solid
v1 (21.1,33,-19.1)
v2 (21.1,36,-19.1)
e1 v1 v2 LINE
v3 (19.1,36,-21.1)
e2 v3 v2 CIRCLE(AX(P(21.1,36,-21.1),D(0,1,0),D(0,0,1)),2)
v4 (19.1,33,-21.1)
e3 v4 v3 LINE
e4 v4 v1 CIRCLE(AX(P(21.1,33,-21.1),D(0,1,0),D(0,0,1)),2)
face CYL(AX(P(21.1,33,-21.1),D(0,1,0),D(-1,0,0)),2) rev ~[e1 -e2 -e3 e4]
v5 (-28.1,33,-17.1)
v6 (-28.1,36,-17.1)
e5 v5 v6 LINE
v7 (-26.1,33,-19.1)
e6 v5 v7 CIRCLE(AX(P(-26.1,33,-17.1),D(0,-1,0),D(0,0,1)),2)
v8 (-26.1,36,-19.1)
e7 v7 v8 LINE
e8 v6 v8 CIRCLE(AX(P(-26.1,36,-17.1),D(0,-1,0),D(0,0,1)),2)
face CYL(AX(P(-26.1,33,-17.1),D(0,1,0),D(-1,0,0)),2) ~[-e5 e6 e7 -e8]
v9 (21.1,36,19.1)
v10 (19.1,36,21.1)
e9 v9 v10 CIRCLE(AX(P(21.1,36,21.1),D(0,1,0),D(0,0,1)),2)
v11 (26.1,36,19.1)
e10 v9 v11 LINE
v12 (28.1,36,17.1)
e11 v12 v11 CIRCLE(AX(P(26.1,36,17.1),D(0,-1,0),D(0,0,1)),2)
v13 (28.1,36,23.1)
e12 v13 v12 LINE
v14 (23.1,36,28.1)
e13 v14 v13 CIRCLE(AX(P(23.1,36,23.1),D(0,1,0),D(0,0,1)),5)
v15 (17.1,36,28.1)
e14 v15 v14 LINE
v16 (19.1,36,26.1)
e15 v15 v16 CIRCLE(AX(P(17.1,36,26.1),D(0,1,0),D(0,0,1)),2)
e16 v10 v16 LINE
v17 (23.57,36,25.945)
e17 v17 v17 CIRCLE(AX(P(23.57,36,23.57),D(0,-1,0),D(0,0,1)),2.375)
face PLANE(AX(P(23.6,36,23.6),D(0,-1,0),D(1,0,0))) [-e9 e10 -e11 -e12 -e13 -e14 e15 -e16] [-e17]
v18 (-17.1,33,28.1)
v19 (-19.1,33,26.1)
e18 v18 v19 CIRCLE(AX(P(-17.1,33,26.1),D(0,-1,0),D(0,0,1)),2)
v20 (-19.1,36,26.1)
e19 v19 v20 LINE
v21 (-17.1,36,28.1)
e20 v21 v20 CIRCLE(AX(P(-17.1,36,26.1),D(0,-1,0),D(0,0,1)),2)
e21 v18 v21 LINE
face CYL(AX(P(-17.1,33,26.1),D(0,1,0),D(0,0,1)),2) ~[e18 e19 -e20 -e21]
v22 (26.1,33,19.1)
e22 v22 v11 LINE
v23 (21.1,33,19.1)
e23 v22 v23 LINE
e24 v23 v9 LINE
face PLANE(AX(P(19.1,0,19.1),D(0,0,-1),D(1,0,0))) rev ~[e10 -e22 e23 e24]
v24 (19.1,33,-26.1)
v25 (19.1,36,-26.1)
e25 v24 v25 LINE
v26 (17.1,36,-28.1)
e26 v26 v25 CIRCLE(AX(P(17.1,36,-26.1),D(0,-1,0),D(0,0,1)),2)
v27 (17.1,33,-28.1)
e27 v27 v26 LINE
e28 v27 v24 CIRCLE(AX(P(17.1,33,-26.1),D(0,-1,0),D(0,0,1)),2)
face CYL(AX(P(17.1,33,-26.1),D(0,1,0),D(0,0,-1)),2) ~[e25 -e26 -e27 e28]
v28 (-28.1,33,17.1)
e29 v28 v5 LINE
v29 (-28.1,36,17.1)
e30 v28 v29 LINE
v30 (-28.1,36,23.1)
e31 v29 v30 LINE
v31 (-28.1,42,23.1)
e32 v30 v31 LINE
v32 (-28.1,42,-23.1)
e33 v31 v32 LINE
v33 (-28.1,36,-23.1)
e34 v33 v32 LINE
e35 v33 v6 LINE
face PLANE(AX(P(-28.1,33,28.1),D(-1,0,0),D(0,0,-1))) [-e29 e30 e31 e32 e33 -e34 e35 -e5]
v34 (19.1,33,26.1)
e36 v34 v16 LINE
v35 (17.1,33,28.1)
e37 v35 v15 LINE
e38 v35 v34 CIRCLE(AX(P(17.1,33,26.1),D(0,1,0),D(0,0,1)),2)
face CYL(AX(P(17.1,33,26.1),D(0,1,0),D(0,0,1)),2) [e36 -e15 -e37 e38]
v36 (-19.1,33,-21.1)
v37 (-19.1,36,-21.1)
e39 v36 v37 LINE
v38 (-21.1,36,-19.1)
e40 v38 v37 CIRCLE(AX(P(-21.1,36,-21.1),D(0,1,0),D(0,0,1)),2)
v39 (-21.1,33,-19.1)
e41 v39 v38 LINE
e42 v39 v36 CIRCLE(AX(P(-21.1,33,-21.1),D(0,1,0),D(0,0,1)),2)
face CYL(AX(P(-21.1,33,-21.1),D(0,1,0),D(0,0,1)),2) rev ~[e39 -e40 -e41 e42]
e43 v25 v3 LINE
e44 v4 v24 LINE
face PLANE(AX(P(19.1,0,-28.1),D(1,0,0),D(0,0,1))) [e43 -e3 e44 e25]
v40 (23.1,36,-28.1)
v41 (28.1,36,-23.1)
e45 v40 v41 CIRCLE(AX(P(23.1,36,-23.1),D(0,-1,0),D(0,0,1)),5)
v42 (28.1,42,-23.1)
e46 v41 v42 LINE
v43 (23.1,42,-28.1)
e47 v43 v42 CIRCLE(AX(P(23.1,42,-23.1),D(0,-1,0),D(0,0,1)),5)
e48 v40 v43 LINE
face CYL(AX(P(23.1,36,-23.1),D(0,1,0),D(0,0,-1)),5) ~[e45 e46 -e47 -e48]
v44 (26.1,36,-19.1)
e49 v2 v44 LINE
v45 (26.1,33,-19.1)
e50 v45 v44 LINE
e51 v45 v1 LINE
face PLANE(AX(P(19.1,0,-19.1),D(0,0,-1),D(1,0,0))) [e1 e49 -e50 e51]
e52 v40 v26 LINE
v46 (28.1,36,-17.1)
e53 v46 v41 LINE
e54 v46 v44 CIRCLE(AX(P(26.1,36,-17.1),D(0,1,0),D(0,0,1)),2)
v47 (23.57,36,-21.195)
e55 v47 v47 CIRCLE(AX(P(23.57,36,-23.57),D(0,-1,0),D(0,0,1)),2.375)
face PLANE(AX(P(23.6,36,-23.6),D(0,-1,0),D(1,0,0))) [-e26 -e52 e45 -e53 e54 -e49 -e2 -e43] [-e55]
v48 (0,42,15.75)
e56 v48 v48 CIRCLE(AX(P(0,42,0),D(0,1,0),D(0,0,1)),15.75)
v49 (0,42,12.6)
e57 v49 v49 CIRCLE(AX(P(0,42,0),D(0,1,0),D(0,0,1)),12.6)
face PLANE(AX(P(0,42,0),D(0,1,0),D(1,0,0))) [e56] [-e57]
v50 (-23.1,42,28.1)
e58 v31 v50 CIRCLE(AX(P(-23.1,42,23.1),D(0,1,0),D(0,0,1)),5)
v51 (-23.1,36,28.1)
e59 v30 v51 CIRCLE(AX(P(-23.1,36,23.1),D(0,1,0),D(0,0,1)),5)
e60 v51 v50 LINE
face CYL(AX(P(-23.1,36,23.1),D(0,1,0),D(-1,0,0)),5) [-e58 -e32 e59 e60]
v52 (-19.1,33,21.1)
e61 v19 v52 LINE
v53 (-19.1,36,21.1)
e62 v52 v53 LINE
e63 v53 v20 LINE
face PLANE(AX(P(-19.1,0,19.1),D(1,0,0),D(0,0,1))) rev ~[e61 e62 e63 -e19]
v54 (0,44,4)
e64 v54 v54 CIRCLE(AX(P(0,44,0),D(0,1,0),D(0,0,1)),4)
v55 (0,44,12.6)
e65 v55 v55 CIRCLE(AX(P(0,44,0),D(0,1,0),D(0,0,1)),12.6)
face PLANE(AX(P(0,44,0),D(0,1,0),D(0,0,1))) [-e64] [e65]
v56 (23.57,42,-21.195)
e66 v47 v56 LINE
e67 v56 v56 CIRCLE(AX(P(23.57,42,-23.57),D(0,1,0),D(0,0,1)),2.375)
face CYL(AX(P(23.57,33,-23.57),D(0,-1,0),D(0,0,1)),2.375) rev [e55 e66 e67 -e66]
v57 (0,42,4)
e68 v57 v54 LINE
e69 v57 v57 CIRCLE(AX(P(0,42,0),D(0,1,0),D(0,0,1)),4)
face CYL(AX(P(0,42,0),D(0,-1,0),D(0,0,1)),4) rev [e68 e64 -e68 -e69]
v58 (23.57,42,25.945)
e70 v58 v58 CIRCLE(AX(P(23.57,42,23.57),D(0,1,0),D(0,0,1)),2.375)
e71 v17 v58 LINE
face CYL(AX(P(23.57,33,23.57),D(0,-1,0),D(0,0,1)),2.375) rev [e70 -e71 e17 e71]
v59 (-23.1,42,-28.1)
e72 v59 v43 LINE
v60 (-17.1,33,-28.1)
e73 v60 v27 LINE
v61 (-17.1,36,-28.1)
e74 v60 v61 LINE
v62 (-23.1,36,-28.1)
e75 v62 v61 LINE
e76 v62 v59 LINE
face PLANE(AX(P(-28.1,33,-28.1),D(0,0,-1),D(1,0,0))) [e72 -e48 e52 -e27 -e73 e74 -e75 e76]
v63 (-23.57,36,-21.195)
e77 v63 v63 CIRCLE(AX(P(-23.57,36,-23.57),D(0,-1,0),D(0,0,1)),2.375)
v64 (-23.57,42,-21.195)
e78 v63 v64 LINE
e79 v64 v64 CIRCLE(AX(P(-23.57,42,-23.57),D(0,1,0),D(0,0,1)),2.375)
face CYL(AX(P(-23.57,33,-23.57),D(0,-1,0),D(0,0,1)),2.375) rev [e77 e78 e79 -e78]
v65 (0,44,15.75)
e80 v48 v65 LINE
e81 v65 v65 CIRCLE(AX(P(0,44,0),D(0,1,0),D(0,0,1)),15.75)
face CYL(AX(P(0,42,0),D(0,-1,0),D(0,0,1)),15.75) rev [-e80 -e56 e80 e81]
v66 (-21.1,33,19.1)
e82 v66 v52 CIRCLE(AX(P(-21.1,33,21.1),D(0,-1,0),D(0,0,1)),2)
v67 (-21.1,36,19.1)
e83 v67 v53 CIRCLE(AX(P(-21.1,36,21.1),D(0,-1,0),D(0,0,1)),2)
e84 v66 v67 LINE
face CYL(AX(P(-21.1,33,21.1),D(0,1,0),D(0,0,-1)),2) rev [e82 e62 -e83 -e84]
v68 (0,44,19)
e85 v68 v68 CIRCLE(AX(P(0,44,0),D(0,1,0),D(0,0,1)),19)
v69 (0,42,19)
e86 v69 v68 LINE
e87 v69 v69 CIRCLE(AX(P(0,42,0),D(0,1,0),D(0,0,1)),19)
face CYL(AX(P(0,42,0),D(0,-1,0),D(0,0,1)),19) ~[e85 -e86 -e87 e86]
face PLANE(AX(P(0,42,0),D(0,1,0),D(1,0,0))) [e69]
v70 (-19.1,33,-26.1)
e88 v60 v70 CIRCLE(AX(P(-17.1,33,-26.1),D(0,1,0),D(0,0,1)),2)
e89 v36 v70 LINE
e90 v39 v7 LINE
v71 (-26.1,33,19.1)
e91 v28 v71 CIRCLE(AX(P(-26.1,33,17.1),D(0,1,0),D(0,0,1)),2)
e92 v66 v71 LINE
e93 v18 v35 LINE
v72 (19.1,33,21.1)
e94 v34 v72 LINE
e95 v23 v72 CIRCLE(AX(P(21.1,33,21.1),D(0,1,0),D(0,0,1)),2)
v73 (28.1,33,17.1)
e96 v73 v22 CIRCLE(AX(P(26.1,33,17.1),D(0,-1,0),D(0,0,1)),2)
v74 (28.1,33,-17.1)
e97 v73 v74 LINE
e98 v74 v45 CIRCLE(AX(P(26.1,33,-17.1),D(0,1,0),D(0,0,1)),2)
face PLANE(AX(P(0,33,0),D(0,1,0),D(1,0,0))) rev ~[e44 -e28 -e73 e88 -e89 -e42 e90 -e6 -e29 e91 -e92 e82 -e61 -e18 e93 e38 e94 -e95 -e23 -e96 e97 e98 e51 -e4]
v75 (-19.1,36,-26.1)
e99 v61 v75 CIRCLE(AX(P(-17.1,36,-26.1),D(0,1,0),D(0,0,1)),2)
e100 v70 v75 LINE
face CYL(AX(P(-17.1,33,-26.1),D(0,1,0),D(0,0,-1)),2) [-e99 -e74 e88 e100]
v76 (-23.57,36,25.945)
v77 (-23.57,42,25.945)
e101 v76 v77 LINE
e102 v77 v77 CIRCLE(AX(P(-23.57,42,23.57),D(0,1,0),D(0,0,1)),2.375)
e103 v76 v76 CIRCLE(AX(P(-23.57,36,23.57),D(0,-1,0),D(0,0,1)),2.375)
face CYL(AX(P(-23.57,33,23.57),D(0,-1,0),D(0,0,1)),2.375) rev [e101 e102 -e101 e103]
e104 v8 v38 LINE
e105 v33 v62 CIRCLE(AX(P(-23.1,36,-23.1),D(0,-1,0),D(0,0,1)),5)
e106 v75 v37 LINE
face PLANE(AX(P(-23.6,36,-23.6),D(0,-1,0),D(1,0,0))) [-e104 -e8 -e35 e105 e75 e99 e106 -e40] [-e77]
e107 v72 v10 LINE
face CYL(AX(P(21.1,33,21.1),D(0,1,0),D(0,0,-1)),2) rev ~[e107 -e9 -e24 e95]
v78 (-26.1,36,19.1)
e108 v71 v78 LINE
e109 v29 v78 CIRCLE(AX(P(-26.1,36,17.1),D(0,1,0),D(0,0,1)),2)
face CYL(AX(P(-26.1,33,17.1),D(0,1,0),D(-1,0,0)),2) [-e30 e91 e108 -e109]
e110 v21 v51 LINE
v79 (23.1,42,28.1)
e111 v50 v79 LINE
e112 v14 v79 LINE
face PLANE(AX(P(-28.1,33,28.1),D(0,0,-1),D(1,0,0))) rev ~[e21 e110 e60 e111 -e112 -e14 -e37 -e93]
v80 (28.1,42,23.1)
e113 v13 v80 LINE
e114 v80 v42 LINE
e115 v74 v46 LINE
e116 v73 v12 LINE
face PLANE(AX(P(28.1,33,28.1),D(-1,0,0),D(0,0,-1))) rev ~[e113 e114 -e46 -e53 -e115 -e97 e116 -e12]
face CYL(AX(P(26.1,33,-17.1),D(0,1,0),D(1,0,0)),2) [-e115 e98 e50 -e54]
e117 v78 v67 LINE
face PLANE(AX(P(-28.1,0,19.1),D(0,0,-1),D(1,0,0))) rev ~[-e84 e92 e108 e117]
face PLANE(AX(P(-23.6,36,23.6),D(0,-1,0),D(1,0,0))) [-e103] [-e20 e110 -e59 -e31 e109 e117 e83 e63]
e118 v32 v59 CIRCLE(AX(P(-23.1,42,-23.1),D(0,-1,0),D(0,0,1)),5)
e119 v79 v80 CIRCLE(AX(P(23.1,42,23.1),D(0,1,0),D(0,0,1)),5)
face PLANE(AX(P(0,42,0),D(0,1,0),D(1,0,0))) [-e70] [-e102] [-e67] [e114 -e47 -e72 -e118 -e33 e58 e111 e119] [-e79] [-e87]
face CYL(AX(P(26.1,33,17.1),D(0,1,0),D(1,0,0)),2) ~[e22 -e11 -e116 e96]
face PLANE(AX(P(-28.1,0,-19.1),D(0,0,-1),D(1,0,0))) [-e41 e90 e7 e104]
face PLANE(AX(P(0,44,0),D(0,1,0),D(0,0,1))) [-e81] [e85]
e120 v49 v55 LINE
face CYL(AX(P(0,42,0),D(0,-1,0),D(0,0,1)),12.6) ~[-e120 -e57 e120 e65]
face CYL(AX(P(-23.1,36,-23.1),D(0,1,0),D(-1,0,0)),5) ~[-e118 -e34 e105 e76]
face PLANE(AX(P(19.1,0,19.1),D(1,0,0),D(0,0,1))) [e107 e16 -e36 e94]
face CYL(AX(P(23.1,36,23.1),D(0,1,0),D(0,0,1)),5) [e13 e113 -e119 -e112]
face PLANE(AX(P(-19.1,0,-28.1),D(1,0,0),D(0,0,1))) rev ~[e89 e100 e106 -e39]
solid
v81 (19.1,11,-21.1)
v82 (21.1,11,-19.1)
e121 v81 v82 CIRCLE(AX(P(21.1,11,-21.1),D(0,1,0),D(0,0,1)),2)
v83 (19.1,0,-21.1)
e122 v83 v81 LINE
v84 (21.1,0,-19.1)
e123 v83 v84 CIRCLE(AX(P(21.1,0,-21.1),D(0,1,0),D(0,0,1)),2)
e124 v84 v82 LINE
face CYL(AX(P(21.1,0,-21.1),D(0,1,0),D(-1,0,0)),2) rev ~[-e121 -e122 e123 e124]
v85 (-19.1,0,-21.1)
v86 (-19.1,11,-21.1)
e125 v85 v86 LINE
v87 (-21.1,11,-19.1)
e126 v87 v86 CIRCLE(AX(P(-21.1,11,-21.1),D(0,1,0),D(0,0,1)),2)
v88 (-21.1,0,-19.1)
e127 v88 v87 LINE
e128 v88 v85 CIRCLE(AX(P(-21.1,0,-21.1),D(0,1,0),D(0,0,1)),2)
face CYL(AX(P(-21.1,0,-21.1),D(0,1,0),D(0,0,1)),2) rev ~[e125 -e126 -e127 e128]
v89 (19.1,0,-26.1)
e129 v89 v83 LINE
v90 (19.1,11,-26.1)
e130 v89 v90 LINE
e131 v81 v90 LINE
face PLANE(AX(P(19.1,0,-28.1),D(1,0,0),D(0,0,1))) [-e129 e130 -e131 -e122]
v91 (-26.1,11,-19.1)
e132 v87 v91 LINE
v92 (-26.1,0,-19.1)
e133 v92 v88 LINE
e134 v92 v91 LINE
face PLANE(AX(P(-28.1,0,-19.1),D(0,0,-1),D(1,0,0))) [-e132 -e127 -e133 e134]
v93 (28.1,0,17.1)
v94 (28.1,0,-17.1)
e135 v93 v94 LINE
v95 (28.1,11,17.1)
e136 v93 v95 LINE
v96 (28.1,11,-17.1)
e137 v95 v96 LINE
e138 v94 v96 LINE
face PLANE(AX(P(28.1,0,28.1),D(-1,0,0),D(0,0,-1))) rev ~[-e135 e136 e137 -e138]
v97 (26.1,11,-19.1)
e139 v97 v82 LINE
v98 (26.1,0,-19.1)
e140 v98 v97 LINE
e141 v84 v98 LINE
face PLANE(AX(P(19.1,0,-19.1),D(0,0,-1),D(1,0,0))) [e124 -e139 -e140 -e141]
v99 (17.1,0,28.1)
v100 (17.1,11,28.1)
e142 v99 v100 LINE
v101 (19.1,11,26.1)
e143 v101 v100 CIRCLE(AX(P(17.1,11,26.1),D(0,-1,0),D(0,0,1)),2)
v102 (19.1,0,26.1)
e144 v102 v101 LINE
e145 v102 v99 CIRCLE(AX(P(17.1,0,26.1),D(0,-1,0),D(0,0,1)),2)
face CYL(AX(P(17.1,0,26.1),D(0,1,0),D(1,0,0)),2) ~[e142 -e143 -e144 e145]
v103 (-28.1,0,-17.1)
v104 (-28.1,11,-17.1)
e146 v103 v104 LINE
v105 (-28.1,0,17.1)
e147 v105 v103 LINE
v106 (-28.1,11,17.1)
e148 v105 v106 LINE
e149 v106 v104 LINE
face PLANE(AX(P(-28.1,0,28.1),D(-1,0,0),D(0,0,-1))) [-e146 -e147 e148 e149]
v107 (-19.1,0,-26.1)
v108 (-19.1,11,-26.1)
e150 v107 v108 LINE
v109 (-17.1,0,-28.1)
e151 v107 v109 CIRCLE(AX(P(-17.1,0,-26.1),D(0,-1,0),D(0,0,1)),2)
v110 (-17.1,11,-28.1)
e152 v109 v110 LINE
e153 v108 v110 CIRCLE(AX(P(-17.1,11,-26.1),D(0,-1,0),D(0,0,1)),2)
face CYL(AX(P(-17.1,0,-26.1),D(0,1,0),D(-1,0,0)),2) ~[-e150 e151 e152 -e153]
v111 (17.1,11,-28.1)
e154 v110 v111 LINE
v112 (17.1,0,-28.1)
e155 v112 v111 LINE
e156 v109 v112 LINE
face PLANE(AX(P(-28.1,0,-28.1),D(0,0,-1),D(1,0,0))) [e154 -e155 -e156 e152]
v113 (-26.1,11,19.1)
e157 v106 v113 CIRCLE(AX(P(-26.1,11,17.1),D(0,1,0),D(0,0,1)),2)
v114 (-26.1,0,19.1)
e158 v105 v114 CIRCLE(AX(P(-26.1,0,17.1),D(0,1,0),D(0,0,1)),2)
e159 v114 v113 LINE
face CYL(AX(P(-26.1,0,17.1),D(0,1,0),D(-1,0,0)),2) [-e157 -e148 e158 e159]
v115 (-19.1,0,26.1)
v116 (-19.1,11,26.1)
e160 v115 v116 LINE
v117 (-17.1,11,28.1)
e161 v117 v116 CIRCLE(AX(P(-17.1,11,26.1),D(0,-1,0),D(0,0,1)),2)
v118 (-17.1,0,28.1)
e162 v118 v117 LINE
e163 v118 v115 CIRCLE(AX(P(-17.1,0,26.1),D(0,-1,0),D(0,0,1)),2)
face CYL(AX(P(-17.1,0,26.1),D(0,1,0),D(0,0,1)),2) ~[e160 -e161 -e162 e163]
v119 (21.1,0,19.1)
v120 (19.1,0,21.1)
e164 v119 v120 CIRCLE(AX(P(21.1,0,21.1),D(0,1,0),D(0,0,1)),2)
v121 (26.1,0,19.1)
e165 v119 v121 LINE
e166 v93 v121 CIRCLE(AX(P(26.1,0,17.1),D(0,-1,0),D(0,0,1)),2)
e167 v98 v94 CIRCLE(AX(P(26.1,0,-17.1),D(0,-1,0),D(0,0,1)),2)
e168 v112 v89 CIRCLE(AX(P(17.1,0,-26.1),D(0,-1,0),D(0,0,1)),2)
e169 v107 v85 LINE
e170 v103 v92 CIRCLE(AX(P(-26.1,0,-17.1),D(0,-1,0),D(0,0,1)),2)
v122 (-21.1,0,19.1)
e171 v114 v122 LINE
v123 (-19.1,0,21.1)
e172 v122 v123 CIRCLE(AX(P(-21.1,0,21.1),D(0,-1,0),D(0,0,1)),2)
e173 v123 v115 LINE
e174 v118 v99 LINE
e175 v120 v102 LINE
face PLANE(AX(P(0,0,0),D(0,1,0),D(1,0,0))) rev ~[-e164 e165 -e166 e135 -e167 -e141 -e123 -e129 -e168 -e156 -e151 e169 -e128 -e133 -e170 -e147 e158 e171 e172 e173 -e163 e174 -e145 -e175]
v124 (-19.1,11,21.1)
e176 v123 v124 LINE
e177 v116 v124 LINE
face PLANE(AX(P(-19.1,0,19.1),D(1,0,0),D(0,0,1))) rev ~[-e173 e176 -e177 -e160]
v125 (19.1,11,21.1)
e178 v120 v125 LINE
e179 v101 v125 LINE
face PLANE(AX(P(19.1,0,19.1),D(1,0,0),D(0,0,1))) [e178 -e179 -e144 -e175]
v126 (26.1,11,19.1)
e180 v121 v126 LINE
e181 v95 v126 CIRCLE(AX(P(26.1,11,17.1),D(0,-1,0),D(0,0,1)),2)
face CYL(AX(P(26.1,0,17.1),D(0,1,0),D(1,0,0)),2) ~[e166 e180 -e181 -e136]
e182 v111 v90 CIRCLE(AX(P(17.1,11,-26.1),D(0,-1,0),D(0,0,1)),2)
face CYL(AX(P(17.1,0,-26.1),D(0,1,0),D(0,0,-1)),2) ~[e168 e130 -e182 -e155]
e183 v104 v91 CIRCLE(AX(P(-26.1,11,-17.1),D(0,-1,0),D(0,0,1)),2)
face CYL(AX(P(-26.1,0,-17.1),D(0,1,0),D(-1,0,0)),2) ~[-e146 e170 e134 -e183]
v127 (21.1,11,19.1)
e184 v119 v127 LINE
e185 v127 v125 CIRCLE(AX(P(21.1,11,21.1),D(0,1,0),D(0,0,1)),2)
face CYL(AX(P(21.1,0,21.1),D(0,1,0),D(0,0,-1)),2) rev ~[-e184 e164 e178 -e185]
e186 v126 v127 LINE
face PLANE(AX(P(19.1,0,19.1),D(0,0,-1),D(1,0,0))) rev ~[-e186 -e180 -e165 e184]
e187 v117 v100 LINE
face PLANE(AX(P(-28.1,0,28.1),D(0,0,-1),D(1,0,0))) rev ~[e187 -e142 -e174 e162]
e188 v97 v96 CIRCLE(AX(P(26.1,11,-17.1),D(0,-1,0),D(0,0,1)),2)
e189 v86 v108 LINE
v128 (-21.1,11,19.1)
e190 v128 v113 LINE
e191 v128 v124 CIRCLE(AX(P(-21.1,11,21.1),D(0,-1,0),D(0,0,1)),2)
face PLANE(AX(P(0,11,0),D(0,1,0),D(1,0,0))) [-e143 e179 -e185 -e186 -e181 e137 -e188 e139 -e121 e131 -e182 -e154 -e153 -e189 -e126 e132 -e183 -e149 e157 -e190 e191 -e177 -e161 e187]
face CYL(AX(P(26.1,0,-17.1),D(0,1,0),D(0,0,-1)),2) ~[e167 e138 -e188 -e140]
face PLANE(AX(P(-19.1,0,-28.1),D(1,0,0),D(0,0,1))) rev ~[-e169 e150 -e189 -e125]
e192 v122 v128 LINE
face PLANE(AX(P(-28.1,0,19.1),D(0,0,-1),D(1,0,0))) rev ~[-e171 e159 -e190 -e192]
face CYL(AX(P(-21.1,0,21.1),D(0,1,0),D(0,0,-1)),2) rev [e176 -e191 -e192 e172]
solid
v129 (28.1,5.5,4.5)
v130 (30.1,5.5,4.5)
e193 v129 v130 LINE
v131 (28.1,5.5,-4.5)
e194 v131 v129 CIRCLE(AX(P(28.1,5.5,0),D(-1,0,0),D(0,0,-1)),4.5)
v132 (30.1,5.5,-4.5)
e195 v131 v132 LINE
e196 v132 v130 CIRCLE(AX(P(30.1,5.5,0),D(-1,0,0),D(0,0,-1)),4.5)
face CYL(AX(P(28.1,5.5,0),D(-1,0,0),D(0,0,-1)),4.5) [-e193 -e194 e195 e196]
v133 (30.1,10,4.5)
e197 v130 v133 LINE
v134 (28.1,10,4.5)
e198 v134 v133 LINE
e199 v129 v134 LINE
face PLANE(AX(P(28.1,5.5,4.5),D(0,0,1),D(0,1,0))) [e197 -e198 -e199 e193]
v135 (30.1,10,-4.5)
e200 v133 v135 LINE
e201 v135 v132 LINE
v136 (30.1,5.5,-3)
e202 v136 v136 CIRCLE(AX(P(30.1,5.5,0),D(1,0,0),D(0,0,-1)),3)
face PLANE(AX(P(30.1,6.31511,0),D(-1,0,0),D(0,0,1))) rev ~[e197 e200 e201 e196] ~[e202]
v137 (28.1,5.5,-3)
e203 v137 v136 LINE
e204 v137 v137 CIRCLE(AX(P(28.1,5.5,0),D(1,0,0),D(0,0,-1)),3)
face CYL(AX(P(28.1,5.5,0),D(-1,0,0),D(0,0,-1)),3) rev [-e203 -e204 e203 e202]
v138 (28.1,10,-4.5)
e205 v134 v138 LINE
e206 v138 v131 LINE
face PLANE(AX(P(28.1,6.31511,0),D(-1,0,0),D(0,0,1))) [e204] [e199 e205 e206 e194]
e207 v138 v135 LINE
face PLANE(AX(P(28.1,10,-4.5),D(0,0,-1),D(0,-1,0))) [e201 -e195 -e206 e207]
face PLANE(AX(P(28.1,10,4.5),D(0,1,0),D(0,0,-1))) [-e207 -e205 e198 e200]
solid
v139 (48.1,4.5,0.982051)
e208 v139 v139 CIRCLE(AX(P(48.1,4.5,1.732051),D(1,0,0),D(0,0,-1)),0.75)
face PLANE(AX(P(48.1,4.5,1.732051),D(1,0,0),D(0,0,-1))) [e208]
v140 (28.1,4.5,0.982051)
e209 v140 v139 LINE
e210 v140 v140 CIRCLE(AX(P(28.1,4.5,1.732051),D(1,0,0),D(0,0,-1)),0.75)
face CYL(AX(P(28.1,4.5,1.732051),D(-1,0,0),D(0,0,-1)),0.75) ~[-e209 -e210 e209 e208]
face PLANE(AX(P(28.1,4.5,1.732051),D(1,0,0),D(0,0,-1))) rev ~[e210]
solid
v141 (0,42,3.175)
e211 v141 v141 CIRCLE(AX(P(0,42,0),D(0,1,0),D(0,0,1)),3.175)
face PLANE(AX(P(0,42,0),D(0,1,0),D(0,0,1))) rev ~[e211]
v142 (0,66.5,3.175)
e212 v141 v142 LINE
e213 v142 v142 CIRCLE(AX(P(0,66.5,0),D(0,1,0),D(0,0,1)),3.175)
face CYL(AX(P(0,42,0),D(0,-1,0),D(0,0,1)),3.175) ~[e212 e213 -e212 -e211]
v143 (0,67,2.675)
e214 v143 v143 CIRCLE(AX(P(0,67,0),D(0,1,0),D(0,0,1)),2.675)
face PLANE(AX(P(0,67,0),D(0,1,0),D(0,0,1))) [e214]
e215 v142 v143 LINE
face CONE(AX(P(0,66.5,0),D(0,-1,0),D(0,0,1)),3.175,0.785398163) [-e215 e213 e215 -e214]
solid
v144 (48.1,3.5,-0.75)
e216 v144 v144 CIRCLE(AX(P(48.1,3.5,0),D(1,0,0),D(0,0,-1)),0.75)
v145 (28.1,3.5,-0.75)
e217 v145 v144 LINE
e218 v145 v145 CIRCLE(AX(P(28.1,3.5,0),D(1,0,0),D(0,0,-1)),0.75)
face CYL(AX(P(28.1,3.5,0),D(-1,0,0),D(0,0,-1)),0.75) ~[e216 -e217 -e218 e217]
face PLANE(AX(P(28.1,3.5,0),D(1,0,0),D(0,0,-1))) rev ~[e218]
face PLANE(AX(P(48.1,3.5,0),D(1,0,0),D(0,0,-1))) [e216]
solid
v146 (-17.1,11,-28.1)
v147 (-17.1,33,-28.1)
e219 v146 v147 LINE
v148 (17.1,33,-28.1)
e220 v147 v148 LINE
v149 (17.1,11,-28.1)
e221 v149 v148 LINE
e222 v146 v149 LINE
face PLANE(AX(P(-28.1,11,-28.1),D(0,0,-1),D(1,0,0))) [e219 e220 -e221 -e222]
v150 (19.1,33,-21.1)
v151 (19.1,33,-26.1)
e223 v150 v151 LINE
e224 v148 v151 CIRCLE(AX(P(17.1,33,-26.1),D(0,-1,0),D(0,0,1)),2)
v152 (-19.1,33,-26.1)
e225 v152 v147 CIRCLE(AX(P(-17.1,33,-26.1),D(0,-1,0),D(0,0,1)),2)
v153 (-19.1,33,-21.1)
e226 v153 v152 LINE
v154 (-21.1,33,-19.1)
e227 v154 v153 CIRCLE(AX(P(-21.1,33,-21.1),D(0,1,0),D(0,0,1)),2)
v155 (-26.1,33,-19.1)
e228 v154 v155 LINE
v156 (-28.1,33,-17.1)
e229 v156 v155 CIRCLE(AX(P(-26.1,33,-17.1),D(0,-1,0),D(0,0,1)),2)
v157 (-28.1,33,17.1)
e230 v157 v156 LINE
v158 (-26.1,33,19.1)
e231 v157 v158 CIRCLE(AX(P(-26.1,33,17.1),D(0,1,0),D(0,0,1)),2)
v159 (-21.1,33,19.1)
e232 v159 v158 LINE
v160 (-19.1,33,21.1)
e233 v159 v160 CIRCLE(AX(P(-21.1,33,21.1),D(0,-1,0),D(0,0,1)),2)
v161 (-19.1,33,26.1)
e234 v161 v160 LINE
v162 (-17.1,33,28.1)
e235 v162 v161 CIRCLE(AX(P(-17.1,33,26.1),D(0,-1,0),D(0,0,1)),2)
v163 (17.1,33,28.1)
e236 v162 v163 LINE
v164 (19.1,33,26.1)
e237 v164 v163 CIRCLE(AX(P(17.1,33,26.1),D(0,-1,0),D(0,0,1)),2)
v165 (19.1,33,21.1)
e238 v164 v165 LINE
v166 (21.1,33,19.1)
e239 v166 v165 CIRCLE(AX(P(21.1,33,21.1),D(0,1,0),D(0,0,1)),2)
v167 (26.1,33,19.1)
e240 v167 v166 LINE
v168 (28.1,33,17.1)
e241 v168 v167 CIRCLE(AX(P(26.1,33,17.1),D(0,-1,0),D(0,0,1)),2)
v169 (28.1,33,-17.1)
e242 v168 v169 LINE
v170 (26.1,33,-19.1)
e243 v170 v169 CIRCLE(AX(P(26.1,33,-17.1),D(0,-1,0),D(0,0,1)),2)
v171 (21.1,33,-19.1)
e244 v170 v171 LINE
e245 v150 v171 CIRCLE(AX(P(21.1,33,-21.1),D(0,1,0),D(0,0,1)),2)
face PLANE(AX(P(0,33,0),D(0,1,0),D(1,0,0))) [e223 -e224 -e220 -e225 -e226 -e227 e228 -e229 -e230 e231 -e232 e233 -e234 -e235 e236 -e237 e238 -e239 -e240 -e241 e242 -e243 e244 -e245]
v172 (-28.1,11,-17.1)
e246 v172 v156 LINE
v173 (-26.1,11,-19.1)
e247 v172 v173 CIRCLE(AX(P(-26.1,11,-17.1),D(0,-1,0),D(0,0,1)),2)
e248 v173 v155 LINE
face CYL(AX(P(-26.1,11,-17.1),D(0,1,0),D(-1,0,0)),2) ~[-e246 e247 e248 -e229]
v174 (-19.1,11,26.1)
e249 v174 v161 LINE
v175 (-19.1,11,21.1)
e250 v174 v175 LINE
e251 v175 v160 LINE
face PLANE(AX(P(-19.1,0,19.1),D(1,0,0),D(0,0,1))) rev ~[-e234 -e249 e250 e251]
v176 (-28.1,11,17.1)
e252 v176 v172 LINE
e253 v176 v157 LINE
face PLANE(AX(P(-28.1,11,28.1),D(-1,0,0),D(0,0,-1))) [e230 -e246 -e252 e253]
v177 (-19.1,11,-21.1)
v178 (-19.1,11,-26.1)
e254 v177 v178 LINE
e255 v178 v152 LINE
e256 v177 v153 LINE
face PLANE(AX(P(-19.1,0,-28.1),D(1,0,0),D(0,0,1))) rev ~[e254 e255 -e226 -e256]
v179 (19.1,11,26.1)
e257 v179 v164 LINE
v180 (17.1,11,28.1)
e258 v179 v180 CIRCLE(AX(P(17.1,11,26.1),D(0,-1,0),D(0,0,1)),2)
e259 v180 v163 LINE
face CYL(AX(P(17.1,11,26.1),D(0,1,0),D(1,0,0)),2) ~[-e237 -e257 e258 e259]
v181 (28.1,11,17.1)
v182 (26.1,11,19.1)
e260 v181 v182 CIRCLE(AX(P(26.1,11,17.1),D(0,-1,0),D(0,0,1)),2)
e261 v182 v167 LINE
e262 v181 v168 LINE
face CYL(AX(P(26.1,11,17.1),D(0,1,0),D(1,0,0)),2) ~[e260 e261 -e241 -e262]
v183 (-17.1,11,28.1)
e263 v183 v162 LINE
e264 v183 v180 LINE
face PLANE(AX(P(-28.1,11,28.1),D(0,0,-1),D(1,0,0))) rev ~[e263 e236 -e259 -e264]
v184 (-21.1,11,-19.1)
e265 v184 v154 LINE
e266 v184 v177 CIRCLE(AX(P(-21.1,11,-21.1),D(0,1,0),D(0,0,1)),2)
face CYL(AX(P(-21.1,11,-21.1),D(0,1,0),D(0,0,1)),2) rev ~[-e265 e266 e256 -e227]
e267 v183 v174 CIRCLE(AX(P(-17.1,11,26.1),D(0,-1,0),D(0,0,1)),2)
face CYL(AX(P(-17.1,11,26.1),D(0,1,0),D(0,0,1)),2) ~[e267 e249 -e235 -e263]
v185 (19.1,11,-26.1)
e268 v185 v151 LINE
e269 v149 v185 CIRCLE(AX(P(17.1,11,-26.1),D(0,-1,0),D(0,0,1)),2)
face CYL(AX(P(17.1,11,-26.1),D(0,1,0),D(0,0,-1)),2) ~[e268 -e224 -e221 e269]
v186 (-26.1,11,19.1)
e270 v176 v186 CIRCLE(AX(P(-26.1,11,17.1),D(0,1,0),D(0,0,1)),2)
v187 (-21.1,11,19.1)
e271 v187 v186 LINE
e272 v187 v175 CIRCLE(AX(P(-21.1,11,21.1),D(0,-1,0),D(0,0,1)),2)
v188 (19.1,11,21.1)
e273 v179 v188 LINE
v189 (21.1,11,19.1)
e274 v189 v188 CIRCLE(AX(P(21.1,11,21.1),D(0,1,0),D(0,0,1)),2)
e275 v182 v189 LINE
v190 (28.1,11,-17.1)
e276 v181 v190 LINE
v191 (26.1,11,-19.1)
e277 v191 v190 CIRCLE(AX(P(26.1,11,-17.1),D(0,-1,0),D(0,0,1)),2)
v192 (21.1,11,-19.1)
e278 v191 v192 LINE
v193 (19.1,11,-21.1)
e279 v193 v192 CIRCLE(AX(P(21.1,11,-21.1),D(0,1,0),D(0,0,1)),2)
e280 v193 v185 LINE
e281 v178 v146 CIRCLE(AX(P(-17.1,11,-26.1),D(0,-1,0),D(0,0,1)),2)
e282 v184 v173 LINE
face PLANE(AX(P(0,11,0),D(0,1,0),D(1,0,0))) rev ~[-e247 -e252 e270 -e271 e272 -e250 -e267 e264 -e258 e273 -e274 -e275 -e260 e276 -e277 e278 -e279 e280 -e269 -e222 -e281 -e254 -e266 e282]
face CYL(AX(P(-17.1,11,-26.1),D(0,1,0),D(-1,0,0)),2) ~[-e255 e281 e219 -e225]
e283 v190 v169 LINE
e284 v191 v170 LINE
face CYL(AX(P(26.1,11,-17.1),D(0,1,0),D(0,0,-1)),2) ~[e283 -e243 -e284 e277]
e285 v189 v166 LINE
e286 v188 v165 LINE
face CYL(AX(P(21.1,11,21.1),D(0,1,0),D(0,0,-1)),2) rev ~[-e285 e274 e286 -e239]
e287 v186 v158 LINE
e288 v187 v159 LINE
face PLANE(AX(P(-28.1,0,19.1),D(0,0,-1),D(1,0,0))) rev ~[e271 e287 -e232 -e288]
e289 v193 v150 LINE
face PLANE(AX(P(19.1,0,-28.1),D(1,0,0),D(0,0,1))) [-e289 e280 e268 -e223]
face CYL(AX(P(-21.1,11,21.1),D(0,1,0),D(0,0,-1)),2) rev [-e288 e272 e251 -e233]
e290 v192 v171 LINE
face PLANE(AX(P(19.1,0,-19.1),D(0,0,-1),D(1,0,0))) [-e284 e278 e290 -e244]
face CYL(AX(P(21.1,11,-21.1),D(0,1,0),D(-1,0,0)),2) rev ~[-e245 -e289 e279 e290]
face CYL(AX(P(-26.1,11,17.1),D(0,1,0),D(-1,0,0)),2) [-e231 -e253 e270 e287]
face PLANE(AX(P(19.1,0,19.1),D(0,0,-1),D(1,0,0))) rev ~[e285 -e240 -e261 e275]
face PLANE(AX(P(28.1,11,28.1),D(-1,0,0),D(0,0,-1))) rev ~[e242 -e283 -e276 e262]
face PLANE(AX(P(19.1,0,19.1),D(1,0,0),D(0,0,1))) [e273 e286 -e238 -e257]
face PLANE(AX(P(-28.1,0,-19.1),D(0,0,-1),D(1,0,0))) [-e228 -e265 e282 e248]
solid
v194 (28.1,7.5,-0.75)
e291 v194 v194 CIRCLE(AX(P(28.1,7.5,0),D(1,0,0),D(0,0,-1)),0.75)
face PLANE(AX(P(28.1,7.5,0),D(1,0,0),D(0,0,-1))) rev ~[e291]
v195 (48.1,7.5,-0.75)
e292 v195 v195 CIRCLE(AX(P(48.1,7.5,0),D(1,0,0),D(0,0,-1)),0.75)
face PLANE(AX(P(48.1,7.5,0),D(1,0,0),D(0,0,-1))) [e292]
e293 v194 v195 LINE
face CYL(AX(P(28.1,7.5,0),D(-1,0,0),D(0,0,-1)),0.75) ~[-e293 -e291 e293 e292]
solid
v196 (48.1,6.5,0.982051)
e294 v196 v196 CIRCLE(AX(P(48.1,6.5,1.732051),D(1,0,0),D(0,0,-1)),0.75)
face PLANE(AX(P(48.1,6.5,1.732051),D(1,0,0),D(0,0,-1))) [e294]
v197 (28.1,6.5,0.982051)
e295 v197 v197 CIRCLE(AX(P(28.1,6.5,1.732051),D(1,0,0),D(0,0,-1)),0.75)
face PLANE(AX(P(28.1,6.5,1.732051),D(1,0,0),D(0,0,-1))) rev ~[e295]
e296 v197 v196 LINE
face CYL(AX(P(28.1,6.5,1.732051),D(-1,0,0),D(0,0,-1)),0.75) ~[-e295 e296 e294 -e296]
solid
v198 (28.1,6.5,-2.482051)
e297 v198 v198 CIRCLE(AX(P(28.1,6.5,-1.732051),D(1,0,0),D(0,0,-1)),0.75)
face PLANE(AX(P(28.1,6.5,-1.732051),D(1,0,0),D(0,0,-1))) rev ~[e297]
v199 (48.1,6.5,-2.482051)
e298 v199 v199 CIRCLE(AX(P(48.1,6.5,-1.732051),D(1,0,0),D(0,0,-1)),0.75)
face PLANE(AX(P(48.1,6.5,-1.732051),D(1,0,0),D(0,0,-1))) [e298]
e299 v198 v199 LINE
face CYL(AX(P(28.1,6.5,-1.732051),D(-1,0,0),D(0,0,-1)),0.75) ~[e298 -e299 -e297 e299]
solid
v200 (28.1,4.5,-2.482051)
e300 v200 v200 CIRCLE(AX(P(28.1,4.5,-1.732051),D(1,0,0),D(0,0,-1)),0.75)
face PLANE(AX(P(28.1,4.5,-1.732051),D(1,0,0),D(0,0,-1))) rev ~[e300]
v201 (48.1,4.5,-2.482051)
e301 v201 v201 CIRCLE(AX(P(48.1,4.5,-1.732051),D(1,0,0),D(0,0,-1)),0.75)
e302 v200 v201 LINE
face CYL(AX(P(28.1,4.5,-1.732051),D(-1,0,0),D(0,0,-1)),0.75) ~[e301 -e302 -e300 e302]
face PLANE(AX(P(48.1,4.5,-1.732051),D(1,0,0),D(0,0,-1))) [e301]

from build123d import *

# Parameters (mm, degrees)
SKETCH1_W             = 56.2
SKETCH1_H             = 56.2
SKETCH1_R             = 2.375
BOSS_EXTRUDE2_DEPTH   = 11
SKETCH2_W             = 56.2
SKETCH2_H             = 56.2
SKETCH2_R             = 2.375
BOSS_EXTRUDE3_DEPTH   = 22
SKETCH3_W             = 56.2
SKETCH3_H             = 56.2
SKETCH3_R             = 2.375
BOSS_EXTRUDE4_DEPTH   = 9
SKETCH4_R             = 3
BOSS_EXTRUDE5_DEPTH   = 2
SKETCH5_R             = 0.75
BOSS_EXTRUDE6_DEPTH   = 20
BOSS_EXTRUDE6_2_DEPTH = 20
BOSS_EXTRUDE6_3_DEPTH = 20
BOSS_EXTRUDE6_4_DEPTH = 20
BOSS_EXTRUDE6_5_DEPTH = 20
BOSS_EXTRUDE6_6_DEPTH = 20
SKETCH6_R             = 19
SKETCH6_R_2           = 15.75
SKETCH6_R_3           = 12.6
SKETCH6_R_4           = 4
BOSS_EXTRUDE7_DEPTH   = 2
SKETCH7_R             = 3.175
BOSS_EXTRUDE8_DEPTH   = 25
SKETCH11_W            = 9
SKETCH11_H            = 9
CUT_EXTRUDE1_DEPTH    = 36
FILLET1_R             = 5
FILLET2_R             = 2
FILLET3_R             = 2
CHAMFER1_SIZE         = 0.5
FILLET4_R             = 2


with BuildPart() as part:
    # Sketch1 → Boss-Extrude2 (new body)
    with BuildSketch(Plane(origin=(0, 0, 0), x_dir=(1, 0, 0), z_dir=(0, 1, 0))):
        Rectangle(SKETCH1_W, SKETCH1_H)
        with Locations(Location((23.57, 23.57, 0), (0, 0, 270))):
            Circle(SKETCH1_R, mode=Mode.SUBTRACT)
        with Locations(Location((23.57, -23.57, 0), (0, 0, 270))):
            Circle(SKETCH1_R, mode=Mode.SUBTRACT)
        with Locations(Location((-23.57, -23.57, 0), (0, 0, 270))):
            Circle(SKETCH1_R, mode=Mode.SUBTRACT)
        with Locations(Location((-23.57, 23.57, 0), (0, 0, 270))):
            Circle(SKETCH1_R, mode=Mode.SUBTRACT)
    extrude(amount=BOSS_EXTRUDE2_DEPTH)


with BuildPart() as body_2:
    # Sketch2 → Boss-Extrude3 (new body)
    with BuildSketch(Plane(origin=(0, 11, 0), x_dir=(1, 0, 0), z_dir=(0, 1, 0))):
        Rectangle(SKETCH2_W, SKETCH2_H)
        with Locations(Location((-23.57, -23.57, 0), (0, 0, 270))):
            Circle(SKETCH2_R, mode=Mode.SUBTRACT)
        with Locations(Location((23.57, -23.57, 0), (0, 0, 270))):
            Circle(SKETCH2_R, mode=Mode.SUBTRACT)
        with Locations(Location((23.57, 23.57, 0), (0, 0, 270))):
            Circle(SKETCH2_R, mode=Mode.SUBTRACT)
        with Locations(Location((-23.57, 23.57, 0), (0, 0, 270))):
            Circle(SKETCH2_R, mode=Mode.SUBTRACT)
    extrude(amount=BOSS_EXTRUDE3_DEPTH)


with BuildPart() as body_3:
    # Sketch3 → Boss-Extrude4 (new body)
    with BuildSketch(Plane(origin=(0, 33, 0), x_dir=(1, 0, 0), z_dir=(0, 1, 0))):
        Rectangle(SKETCH3_W, SKETCH3_H)
        with Locations(Location((23.57, 23.57, 0), (0, 0, 270))):
            Circle(SKETCH3_R, mode=Mode.SUBTRACT)
        with Locations(Location((23.57, -23.57, 0), (0, 0, 270))):
            Circle(SKETCH3_R, mode=Mode.SUBTRACT)
        with Locations(Location((-23.57, -23.57, 0), (0, 0, 270))):
            Circle(SKETCH3_R, mode=Mode.SUBTRACT)
        with Locations(Location((-23.57, 23.57, 0), (0, 0, 270))):
            Circle(SKETCH3_R, mode=Mode.SUBTRACT)
    extrude(amount=BOSS_EXTRUDE4_DEPTH)

    # Sketch6 → Boss-Extrude7 (add)
    # profile 1 of 2: a face of its own
    with BuildSketch(Plane(origin=(0, 42, 0), x_dir=(1, 0, 0), z_dir=(0, 1, 0))):
        with Locations(Location((0, 0, 0), (0, 0, 270))):
            Circle(SKETCH6_R)
        with Locations(Location((0, 0, 0), (0, 0, 270))):
            Circle(SKETCH6_R_2, mode=Mode.SUBTRACT)
    # profile 2 of 2: a face of its own
    with BuildSketch(Plane(origin=(0, 42, 0), x_dir=(1, 0, 0), z_dir=(0, 1, 0))):
        with Locations(Location((0, 0, 0), (0, 0, 270))):
            Circle(SKETCH6_R_3)
        with Locations(Location((0, 0, 0), (0, 0, 270))):
            Circle(SKETCH6_R_4, mode=Mode.SUBTRACT)
    extrude(amount=BOSS_EXTRUDE7_DEPTH)


with BuildPart() as body_4:
    # Sketch4 → Boss-Extrude5 (new body)
    with BuildSketch(Plane(origin=(28.1, 0, 0), x_dir=(0, 0, -1), z_dir=(1, 0, 0))):
        with BuildLine():
            Line((-4.5, 5.5), (-4.5, 10))
            Line((-4.5, 10), (4.5, 10))
            Line((4.5, 10), (4.5, 5.5))
            ThreePointArc((4.5, 5.5), (0, 1), (-4.5, 5.5))
        make_face()
        with Locations((0, 5.5)):
            Circle(SKETCH4_R, mode=Mode.SUBTRACT)
    extrude(amount=BOSS_EXTRUDE5_DEPTH)


with BuildPart() as body_5:
    # Sketch5 → Boss-Extrude6 (new body)
    with BuildSketch(Plane(origin=(28.1, 0, 0), x_dir=(0, 0, -1), z_dir=(1, 0, 0))):
        with Locations((-1.732050808, 4.5)):
            Circle(SKETCH5_R)
    extrude(amount=BOSS_EXTRUDE6_DEPTH)


with BuildPart() as body_6:
    # Sketch5 → Boss-Extrude6 2 (new body)
    with BuildSketch(Plane(origin=(28.1, 0, 0), x_dir=(0, 0, -1), z_dir=(1, 0, 0))):
        with Locations((0, 3.5)):
            Circle(SKETCH5_R)
    extrude(amount=BOSS_EXTRUDE6_2_DEPTH)


with BuildPart() as body_7:
    # Sketch5 → Boss-Extrude6 3 (new body)
    with BuildSketch(Plane(origin=(28.1, 0, 0), x_dir=(0, 0, -1), z_dir=(1, 0, 0))):
        with Locations((-1.732050808, 6.5)):
            Circle(SKETCH5_R)
    extrude(amount=BOSS_EXTRUDE6_3_DEPTH)


with BuildPart() as body_8:
    # Sketch5 → Boss-Extrude6 4 (new body)
    with BuildSketch(Plane(origin=(28.1, 0, 0), x_dir=(0, 0, -1), z_dir=(1, 0, 0))):
        with Locations((0, 7.5)):
            Circle(SKETCH5_R)
    extrude(amount=BOSS_EXTRUDE6_4_DEPTH)


with BuildPart() as body_9:
    # Sketch5 → Boss-Extrude6 5 (new body)
    with BuildSketch(Plane(origin=(28.1, 0, 0), x_dir=(0, 0, -1), z_dir=(1, 0, 0))):
        with Locations((1.732050808, 6.5)):
            Circle(SKETCH5_R)
    extrude(amount=BOSS_EXTRUDE6_5_DEPTH)


with BuildPart() as body_10:
    # Sketch5 → Boss-Extrude6 6 (new body)
    with BuildSketch(Plane(origin=(28.1, 0, 0), x_dir=(0, 0, -1), z_dir=(1, 0, 0))):
        with Locations((1.732050808, 4.5)):
            Circle(SKETCH5_R)
    extrude(amount=BOSS_EXTRUDE6_6_DEPTH)


with BuildPart() as body_11:
    # Sketch7 → Boss-Extrude8 (new body)
    with BuildSketch(Plane(origin=(0, 42, 0), x_dir=(1, 0, 0), z_dir=(0, 1, 0))):
        with Locations(Location((0, 0, 0), (0, 0, 270))):
            Circle(SKETCH7_R)
    extrude(amount=BOSS_EXTRUDE8_DEPTH)

    # Chamfer1
    chamfer1_edges = [body_11.edges().sort_by_distance(p)[0] for p in [
        (0, 67, -3.175),
    ]]
    chamfer(chamfer1_edges, length=CHAMFER1_SIZE)


with BuildPart() as cut_extrude1_tool:
    # Sketch11 → Cut-Extrude1 (new body)
    with BuildSketch(Plane.XZ):
        with Locations((-23.6, 23.6)):
            Rectangle(SKETCH11_W, SKETCH11_H)
        with Locations((23.6, 23.6)):
            Rectangle(SKETCH11_W, SKETCH11_H)
        with Locations((23.6, -23.6)):
            Rectangle(SKETCH11_W, SKETCH11_H)
        with Locations((-23.6, -23.6)):
            Rectangle(SKETCH11_W, SKETCH11_H)
    extrude(amount=-CUT_EXTRUDE1_DEPTH)


with BuildPart() as part_1:
    add(part.part)

    # Cut-Extrude1: cut by cut_extrude1_tool
    add(cut_extrude1_tool.part, mode=Mode.SUBTRACT)

    # Fillet2
    fillet2_edges = [part_1.edges().sort_by_distance(p)[0] for p in [
        (-19.1, 5.5, -28.1),
        (19.1, 5.5, -28.1),
        (28.1, 5.5, 19.1),
        (-19.1, 5.5, 28.1),
        (-19.1, 5.5, 19.1),
        (-28.1, 5.5, 19.1),
        (19.1, 5.5, 19.1),
        (19.1, 5.5, 28.1),
        (19.1, 5.5, -19.1),
        (28.1, 5.5, -19.1),
        (-19.1, 5.5, -19.1),
        (-28.1, 5.5, -19.1),
    ]]
    fillet(fillet2_edges, radius=FILLET2_R)


with BuildPart() as body_2_1:
    add(body_2.part)

    # Cut-Extrude1: cut by cut_extrude1_tool
    add(cut_extrude1_tool.part, mode=Mode.SUBTRACT)

    # Fillet3
    fillet3_edges = [body_2_1.edges().sort_by_distance(p)[0] for p in [
        (-19.1, 22, -28.1),
        (19.1, 22, -28.1),
        (28.1, 22, 19.1),
        (-19.1, 22, 28.1),
        (-19.1, 22, 19.1),
        (-28.1, 22, 19.1),
        (19.1, 22, 19.1),
        (19.1, 22, 28.1),
        (19.1, 22, -19.1),
        (28.1, 22, -19.1),
        (-28.1, 22, -19.1),
        (-19.1, 22, -19.1),
    ]]
    fillet(fillet3_edges, radius=FILLET3_R)


with BuildPart() as body_3_1:
    add(body_3.part)

    # Cut-Extrude1: cut by cut_extrude1_tool
    add(cut_extrude1_tool.part, mode=Mode.SUBTRACT)

    # Fillet1
    fillet1_edges = [body_3_1.edges().sort_by_distance(p)[0] for p in [
        (-28.1, 39, -28.1),
        (28.1, 39, -28.1),
        (28.1, 39, 28.1),
        (-28.1, 39, 28.1),
    ]]
    fillet(fillet1_edges, radius=FILLET1_R)

    # Fillet4
    fillet4_edges = [body_3_1.edges().sort_by_distance(p)[0] for p in [
        (-19.1, 34.5, 19.1),
        (-19.1, 34.5, 28.1),
        (-28.1, 34.5, 19.1),
        (19.1, 34.5, 19.1),
        (28.1, 34.5, 19.1),
        (19.1, 34.5, 28.1),
        (19.1, 34.5, -19.1),
        (19.1, 34.5, -28.1),
        (28.1, 34.5, -19.1),
        (-28.1, 34.5, -19.1),
        (-19.1, 34.5, -28.1),
        (-19.1, 34.5, -19.1),
    ]]
    fillet(fillet4_edges, radius=FILLET4_R)


solid = Compound([body_4.part, body_5.part, body_6.part, body_7.part, body_8.part, body_9.part, body_10.part, body_11.part, part_1.part, body_2_1.part, body_3_1.part])
